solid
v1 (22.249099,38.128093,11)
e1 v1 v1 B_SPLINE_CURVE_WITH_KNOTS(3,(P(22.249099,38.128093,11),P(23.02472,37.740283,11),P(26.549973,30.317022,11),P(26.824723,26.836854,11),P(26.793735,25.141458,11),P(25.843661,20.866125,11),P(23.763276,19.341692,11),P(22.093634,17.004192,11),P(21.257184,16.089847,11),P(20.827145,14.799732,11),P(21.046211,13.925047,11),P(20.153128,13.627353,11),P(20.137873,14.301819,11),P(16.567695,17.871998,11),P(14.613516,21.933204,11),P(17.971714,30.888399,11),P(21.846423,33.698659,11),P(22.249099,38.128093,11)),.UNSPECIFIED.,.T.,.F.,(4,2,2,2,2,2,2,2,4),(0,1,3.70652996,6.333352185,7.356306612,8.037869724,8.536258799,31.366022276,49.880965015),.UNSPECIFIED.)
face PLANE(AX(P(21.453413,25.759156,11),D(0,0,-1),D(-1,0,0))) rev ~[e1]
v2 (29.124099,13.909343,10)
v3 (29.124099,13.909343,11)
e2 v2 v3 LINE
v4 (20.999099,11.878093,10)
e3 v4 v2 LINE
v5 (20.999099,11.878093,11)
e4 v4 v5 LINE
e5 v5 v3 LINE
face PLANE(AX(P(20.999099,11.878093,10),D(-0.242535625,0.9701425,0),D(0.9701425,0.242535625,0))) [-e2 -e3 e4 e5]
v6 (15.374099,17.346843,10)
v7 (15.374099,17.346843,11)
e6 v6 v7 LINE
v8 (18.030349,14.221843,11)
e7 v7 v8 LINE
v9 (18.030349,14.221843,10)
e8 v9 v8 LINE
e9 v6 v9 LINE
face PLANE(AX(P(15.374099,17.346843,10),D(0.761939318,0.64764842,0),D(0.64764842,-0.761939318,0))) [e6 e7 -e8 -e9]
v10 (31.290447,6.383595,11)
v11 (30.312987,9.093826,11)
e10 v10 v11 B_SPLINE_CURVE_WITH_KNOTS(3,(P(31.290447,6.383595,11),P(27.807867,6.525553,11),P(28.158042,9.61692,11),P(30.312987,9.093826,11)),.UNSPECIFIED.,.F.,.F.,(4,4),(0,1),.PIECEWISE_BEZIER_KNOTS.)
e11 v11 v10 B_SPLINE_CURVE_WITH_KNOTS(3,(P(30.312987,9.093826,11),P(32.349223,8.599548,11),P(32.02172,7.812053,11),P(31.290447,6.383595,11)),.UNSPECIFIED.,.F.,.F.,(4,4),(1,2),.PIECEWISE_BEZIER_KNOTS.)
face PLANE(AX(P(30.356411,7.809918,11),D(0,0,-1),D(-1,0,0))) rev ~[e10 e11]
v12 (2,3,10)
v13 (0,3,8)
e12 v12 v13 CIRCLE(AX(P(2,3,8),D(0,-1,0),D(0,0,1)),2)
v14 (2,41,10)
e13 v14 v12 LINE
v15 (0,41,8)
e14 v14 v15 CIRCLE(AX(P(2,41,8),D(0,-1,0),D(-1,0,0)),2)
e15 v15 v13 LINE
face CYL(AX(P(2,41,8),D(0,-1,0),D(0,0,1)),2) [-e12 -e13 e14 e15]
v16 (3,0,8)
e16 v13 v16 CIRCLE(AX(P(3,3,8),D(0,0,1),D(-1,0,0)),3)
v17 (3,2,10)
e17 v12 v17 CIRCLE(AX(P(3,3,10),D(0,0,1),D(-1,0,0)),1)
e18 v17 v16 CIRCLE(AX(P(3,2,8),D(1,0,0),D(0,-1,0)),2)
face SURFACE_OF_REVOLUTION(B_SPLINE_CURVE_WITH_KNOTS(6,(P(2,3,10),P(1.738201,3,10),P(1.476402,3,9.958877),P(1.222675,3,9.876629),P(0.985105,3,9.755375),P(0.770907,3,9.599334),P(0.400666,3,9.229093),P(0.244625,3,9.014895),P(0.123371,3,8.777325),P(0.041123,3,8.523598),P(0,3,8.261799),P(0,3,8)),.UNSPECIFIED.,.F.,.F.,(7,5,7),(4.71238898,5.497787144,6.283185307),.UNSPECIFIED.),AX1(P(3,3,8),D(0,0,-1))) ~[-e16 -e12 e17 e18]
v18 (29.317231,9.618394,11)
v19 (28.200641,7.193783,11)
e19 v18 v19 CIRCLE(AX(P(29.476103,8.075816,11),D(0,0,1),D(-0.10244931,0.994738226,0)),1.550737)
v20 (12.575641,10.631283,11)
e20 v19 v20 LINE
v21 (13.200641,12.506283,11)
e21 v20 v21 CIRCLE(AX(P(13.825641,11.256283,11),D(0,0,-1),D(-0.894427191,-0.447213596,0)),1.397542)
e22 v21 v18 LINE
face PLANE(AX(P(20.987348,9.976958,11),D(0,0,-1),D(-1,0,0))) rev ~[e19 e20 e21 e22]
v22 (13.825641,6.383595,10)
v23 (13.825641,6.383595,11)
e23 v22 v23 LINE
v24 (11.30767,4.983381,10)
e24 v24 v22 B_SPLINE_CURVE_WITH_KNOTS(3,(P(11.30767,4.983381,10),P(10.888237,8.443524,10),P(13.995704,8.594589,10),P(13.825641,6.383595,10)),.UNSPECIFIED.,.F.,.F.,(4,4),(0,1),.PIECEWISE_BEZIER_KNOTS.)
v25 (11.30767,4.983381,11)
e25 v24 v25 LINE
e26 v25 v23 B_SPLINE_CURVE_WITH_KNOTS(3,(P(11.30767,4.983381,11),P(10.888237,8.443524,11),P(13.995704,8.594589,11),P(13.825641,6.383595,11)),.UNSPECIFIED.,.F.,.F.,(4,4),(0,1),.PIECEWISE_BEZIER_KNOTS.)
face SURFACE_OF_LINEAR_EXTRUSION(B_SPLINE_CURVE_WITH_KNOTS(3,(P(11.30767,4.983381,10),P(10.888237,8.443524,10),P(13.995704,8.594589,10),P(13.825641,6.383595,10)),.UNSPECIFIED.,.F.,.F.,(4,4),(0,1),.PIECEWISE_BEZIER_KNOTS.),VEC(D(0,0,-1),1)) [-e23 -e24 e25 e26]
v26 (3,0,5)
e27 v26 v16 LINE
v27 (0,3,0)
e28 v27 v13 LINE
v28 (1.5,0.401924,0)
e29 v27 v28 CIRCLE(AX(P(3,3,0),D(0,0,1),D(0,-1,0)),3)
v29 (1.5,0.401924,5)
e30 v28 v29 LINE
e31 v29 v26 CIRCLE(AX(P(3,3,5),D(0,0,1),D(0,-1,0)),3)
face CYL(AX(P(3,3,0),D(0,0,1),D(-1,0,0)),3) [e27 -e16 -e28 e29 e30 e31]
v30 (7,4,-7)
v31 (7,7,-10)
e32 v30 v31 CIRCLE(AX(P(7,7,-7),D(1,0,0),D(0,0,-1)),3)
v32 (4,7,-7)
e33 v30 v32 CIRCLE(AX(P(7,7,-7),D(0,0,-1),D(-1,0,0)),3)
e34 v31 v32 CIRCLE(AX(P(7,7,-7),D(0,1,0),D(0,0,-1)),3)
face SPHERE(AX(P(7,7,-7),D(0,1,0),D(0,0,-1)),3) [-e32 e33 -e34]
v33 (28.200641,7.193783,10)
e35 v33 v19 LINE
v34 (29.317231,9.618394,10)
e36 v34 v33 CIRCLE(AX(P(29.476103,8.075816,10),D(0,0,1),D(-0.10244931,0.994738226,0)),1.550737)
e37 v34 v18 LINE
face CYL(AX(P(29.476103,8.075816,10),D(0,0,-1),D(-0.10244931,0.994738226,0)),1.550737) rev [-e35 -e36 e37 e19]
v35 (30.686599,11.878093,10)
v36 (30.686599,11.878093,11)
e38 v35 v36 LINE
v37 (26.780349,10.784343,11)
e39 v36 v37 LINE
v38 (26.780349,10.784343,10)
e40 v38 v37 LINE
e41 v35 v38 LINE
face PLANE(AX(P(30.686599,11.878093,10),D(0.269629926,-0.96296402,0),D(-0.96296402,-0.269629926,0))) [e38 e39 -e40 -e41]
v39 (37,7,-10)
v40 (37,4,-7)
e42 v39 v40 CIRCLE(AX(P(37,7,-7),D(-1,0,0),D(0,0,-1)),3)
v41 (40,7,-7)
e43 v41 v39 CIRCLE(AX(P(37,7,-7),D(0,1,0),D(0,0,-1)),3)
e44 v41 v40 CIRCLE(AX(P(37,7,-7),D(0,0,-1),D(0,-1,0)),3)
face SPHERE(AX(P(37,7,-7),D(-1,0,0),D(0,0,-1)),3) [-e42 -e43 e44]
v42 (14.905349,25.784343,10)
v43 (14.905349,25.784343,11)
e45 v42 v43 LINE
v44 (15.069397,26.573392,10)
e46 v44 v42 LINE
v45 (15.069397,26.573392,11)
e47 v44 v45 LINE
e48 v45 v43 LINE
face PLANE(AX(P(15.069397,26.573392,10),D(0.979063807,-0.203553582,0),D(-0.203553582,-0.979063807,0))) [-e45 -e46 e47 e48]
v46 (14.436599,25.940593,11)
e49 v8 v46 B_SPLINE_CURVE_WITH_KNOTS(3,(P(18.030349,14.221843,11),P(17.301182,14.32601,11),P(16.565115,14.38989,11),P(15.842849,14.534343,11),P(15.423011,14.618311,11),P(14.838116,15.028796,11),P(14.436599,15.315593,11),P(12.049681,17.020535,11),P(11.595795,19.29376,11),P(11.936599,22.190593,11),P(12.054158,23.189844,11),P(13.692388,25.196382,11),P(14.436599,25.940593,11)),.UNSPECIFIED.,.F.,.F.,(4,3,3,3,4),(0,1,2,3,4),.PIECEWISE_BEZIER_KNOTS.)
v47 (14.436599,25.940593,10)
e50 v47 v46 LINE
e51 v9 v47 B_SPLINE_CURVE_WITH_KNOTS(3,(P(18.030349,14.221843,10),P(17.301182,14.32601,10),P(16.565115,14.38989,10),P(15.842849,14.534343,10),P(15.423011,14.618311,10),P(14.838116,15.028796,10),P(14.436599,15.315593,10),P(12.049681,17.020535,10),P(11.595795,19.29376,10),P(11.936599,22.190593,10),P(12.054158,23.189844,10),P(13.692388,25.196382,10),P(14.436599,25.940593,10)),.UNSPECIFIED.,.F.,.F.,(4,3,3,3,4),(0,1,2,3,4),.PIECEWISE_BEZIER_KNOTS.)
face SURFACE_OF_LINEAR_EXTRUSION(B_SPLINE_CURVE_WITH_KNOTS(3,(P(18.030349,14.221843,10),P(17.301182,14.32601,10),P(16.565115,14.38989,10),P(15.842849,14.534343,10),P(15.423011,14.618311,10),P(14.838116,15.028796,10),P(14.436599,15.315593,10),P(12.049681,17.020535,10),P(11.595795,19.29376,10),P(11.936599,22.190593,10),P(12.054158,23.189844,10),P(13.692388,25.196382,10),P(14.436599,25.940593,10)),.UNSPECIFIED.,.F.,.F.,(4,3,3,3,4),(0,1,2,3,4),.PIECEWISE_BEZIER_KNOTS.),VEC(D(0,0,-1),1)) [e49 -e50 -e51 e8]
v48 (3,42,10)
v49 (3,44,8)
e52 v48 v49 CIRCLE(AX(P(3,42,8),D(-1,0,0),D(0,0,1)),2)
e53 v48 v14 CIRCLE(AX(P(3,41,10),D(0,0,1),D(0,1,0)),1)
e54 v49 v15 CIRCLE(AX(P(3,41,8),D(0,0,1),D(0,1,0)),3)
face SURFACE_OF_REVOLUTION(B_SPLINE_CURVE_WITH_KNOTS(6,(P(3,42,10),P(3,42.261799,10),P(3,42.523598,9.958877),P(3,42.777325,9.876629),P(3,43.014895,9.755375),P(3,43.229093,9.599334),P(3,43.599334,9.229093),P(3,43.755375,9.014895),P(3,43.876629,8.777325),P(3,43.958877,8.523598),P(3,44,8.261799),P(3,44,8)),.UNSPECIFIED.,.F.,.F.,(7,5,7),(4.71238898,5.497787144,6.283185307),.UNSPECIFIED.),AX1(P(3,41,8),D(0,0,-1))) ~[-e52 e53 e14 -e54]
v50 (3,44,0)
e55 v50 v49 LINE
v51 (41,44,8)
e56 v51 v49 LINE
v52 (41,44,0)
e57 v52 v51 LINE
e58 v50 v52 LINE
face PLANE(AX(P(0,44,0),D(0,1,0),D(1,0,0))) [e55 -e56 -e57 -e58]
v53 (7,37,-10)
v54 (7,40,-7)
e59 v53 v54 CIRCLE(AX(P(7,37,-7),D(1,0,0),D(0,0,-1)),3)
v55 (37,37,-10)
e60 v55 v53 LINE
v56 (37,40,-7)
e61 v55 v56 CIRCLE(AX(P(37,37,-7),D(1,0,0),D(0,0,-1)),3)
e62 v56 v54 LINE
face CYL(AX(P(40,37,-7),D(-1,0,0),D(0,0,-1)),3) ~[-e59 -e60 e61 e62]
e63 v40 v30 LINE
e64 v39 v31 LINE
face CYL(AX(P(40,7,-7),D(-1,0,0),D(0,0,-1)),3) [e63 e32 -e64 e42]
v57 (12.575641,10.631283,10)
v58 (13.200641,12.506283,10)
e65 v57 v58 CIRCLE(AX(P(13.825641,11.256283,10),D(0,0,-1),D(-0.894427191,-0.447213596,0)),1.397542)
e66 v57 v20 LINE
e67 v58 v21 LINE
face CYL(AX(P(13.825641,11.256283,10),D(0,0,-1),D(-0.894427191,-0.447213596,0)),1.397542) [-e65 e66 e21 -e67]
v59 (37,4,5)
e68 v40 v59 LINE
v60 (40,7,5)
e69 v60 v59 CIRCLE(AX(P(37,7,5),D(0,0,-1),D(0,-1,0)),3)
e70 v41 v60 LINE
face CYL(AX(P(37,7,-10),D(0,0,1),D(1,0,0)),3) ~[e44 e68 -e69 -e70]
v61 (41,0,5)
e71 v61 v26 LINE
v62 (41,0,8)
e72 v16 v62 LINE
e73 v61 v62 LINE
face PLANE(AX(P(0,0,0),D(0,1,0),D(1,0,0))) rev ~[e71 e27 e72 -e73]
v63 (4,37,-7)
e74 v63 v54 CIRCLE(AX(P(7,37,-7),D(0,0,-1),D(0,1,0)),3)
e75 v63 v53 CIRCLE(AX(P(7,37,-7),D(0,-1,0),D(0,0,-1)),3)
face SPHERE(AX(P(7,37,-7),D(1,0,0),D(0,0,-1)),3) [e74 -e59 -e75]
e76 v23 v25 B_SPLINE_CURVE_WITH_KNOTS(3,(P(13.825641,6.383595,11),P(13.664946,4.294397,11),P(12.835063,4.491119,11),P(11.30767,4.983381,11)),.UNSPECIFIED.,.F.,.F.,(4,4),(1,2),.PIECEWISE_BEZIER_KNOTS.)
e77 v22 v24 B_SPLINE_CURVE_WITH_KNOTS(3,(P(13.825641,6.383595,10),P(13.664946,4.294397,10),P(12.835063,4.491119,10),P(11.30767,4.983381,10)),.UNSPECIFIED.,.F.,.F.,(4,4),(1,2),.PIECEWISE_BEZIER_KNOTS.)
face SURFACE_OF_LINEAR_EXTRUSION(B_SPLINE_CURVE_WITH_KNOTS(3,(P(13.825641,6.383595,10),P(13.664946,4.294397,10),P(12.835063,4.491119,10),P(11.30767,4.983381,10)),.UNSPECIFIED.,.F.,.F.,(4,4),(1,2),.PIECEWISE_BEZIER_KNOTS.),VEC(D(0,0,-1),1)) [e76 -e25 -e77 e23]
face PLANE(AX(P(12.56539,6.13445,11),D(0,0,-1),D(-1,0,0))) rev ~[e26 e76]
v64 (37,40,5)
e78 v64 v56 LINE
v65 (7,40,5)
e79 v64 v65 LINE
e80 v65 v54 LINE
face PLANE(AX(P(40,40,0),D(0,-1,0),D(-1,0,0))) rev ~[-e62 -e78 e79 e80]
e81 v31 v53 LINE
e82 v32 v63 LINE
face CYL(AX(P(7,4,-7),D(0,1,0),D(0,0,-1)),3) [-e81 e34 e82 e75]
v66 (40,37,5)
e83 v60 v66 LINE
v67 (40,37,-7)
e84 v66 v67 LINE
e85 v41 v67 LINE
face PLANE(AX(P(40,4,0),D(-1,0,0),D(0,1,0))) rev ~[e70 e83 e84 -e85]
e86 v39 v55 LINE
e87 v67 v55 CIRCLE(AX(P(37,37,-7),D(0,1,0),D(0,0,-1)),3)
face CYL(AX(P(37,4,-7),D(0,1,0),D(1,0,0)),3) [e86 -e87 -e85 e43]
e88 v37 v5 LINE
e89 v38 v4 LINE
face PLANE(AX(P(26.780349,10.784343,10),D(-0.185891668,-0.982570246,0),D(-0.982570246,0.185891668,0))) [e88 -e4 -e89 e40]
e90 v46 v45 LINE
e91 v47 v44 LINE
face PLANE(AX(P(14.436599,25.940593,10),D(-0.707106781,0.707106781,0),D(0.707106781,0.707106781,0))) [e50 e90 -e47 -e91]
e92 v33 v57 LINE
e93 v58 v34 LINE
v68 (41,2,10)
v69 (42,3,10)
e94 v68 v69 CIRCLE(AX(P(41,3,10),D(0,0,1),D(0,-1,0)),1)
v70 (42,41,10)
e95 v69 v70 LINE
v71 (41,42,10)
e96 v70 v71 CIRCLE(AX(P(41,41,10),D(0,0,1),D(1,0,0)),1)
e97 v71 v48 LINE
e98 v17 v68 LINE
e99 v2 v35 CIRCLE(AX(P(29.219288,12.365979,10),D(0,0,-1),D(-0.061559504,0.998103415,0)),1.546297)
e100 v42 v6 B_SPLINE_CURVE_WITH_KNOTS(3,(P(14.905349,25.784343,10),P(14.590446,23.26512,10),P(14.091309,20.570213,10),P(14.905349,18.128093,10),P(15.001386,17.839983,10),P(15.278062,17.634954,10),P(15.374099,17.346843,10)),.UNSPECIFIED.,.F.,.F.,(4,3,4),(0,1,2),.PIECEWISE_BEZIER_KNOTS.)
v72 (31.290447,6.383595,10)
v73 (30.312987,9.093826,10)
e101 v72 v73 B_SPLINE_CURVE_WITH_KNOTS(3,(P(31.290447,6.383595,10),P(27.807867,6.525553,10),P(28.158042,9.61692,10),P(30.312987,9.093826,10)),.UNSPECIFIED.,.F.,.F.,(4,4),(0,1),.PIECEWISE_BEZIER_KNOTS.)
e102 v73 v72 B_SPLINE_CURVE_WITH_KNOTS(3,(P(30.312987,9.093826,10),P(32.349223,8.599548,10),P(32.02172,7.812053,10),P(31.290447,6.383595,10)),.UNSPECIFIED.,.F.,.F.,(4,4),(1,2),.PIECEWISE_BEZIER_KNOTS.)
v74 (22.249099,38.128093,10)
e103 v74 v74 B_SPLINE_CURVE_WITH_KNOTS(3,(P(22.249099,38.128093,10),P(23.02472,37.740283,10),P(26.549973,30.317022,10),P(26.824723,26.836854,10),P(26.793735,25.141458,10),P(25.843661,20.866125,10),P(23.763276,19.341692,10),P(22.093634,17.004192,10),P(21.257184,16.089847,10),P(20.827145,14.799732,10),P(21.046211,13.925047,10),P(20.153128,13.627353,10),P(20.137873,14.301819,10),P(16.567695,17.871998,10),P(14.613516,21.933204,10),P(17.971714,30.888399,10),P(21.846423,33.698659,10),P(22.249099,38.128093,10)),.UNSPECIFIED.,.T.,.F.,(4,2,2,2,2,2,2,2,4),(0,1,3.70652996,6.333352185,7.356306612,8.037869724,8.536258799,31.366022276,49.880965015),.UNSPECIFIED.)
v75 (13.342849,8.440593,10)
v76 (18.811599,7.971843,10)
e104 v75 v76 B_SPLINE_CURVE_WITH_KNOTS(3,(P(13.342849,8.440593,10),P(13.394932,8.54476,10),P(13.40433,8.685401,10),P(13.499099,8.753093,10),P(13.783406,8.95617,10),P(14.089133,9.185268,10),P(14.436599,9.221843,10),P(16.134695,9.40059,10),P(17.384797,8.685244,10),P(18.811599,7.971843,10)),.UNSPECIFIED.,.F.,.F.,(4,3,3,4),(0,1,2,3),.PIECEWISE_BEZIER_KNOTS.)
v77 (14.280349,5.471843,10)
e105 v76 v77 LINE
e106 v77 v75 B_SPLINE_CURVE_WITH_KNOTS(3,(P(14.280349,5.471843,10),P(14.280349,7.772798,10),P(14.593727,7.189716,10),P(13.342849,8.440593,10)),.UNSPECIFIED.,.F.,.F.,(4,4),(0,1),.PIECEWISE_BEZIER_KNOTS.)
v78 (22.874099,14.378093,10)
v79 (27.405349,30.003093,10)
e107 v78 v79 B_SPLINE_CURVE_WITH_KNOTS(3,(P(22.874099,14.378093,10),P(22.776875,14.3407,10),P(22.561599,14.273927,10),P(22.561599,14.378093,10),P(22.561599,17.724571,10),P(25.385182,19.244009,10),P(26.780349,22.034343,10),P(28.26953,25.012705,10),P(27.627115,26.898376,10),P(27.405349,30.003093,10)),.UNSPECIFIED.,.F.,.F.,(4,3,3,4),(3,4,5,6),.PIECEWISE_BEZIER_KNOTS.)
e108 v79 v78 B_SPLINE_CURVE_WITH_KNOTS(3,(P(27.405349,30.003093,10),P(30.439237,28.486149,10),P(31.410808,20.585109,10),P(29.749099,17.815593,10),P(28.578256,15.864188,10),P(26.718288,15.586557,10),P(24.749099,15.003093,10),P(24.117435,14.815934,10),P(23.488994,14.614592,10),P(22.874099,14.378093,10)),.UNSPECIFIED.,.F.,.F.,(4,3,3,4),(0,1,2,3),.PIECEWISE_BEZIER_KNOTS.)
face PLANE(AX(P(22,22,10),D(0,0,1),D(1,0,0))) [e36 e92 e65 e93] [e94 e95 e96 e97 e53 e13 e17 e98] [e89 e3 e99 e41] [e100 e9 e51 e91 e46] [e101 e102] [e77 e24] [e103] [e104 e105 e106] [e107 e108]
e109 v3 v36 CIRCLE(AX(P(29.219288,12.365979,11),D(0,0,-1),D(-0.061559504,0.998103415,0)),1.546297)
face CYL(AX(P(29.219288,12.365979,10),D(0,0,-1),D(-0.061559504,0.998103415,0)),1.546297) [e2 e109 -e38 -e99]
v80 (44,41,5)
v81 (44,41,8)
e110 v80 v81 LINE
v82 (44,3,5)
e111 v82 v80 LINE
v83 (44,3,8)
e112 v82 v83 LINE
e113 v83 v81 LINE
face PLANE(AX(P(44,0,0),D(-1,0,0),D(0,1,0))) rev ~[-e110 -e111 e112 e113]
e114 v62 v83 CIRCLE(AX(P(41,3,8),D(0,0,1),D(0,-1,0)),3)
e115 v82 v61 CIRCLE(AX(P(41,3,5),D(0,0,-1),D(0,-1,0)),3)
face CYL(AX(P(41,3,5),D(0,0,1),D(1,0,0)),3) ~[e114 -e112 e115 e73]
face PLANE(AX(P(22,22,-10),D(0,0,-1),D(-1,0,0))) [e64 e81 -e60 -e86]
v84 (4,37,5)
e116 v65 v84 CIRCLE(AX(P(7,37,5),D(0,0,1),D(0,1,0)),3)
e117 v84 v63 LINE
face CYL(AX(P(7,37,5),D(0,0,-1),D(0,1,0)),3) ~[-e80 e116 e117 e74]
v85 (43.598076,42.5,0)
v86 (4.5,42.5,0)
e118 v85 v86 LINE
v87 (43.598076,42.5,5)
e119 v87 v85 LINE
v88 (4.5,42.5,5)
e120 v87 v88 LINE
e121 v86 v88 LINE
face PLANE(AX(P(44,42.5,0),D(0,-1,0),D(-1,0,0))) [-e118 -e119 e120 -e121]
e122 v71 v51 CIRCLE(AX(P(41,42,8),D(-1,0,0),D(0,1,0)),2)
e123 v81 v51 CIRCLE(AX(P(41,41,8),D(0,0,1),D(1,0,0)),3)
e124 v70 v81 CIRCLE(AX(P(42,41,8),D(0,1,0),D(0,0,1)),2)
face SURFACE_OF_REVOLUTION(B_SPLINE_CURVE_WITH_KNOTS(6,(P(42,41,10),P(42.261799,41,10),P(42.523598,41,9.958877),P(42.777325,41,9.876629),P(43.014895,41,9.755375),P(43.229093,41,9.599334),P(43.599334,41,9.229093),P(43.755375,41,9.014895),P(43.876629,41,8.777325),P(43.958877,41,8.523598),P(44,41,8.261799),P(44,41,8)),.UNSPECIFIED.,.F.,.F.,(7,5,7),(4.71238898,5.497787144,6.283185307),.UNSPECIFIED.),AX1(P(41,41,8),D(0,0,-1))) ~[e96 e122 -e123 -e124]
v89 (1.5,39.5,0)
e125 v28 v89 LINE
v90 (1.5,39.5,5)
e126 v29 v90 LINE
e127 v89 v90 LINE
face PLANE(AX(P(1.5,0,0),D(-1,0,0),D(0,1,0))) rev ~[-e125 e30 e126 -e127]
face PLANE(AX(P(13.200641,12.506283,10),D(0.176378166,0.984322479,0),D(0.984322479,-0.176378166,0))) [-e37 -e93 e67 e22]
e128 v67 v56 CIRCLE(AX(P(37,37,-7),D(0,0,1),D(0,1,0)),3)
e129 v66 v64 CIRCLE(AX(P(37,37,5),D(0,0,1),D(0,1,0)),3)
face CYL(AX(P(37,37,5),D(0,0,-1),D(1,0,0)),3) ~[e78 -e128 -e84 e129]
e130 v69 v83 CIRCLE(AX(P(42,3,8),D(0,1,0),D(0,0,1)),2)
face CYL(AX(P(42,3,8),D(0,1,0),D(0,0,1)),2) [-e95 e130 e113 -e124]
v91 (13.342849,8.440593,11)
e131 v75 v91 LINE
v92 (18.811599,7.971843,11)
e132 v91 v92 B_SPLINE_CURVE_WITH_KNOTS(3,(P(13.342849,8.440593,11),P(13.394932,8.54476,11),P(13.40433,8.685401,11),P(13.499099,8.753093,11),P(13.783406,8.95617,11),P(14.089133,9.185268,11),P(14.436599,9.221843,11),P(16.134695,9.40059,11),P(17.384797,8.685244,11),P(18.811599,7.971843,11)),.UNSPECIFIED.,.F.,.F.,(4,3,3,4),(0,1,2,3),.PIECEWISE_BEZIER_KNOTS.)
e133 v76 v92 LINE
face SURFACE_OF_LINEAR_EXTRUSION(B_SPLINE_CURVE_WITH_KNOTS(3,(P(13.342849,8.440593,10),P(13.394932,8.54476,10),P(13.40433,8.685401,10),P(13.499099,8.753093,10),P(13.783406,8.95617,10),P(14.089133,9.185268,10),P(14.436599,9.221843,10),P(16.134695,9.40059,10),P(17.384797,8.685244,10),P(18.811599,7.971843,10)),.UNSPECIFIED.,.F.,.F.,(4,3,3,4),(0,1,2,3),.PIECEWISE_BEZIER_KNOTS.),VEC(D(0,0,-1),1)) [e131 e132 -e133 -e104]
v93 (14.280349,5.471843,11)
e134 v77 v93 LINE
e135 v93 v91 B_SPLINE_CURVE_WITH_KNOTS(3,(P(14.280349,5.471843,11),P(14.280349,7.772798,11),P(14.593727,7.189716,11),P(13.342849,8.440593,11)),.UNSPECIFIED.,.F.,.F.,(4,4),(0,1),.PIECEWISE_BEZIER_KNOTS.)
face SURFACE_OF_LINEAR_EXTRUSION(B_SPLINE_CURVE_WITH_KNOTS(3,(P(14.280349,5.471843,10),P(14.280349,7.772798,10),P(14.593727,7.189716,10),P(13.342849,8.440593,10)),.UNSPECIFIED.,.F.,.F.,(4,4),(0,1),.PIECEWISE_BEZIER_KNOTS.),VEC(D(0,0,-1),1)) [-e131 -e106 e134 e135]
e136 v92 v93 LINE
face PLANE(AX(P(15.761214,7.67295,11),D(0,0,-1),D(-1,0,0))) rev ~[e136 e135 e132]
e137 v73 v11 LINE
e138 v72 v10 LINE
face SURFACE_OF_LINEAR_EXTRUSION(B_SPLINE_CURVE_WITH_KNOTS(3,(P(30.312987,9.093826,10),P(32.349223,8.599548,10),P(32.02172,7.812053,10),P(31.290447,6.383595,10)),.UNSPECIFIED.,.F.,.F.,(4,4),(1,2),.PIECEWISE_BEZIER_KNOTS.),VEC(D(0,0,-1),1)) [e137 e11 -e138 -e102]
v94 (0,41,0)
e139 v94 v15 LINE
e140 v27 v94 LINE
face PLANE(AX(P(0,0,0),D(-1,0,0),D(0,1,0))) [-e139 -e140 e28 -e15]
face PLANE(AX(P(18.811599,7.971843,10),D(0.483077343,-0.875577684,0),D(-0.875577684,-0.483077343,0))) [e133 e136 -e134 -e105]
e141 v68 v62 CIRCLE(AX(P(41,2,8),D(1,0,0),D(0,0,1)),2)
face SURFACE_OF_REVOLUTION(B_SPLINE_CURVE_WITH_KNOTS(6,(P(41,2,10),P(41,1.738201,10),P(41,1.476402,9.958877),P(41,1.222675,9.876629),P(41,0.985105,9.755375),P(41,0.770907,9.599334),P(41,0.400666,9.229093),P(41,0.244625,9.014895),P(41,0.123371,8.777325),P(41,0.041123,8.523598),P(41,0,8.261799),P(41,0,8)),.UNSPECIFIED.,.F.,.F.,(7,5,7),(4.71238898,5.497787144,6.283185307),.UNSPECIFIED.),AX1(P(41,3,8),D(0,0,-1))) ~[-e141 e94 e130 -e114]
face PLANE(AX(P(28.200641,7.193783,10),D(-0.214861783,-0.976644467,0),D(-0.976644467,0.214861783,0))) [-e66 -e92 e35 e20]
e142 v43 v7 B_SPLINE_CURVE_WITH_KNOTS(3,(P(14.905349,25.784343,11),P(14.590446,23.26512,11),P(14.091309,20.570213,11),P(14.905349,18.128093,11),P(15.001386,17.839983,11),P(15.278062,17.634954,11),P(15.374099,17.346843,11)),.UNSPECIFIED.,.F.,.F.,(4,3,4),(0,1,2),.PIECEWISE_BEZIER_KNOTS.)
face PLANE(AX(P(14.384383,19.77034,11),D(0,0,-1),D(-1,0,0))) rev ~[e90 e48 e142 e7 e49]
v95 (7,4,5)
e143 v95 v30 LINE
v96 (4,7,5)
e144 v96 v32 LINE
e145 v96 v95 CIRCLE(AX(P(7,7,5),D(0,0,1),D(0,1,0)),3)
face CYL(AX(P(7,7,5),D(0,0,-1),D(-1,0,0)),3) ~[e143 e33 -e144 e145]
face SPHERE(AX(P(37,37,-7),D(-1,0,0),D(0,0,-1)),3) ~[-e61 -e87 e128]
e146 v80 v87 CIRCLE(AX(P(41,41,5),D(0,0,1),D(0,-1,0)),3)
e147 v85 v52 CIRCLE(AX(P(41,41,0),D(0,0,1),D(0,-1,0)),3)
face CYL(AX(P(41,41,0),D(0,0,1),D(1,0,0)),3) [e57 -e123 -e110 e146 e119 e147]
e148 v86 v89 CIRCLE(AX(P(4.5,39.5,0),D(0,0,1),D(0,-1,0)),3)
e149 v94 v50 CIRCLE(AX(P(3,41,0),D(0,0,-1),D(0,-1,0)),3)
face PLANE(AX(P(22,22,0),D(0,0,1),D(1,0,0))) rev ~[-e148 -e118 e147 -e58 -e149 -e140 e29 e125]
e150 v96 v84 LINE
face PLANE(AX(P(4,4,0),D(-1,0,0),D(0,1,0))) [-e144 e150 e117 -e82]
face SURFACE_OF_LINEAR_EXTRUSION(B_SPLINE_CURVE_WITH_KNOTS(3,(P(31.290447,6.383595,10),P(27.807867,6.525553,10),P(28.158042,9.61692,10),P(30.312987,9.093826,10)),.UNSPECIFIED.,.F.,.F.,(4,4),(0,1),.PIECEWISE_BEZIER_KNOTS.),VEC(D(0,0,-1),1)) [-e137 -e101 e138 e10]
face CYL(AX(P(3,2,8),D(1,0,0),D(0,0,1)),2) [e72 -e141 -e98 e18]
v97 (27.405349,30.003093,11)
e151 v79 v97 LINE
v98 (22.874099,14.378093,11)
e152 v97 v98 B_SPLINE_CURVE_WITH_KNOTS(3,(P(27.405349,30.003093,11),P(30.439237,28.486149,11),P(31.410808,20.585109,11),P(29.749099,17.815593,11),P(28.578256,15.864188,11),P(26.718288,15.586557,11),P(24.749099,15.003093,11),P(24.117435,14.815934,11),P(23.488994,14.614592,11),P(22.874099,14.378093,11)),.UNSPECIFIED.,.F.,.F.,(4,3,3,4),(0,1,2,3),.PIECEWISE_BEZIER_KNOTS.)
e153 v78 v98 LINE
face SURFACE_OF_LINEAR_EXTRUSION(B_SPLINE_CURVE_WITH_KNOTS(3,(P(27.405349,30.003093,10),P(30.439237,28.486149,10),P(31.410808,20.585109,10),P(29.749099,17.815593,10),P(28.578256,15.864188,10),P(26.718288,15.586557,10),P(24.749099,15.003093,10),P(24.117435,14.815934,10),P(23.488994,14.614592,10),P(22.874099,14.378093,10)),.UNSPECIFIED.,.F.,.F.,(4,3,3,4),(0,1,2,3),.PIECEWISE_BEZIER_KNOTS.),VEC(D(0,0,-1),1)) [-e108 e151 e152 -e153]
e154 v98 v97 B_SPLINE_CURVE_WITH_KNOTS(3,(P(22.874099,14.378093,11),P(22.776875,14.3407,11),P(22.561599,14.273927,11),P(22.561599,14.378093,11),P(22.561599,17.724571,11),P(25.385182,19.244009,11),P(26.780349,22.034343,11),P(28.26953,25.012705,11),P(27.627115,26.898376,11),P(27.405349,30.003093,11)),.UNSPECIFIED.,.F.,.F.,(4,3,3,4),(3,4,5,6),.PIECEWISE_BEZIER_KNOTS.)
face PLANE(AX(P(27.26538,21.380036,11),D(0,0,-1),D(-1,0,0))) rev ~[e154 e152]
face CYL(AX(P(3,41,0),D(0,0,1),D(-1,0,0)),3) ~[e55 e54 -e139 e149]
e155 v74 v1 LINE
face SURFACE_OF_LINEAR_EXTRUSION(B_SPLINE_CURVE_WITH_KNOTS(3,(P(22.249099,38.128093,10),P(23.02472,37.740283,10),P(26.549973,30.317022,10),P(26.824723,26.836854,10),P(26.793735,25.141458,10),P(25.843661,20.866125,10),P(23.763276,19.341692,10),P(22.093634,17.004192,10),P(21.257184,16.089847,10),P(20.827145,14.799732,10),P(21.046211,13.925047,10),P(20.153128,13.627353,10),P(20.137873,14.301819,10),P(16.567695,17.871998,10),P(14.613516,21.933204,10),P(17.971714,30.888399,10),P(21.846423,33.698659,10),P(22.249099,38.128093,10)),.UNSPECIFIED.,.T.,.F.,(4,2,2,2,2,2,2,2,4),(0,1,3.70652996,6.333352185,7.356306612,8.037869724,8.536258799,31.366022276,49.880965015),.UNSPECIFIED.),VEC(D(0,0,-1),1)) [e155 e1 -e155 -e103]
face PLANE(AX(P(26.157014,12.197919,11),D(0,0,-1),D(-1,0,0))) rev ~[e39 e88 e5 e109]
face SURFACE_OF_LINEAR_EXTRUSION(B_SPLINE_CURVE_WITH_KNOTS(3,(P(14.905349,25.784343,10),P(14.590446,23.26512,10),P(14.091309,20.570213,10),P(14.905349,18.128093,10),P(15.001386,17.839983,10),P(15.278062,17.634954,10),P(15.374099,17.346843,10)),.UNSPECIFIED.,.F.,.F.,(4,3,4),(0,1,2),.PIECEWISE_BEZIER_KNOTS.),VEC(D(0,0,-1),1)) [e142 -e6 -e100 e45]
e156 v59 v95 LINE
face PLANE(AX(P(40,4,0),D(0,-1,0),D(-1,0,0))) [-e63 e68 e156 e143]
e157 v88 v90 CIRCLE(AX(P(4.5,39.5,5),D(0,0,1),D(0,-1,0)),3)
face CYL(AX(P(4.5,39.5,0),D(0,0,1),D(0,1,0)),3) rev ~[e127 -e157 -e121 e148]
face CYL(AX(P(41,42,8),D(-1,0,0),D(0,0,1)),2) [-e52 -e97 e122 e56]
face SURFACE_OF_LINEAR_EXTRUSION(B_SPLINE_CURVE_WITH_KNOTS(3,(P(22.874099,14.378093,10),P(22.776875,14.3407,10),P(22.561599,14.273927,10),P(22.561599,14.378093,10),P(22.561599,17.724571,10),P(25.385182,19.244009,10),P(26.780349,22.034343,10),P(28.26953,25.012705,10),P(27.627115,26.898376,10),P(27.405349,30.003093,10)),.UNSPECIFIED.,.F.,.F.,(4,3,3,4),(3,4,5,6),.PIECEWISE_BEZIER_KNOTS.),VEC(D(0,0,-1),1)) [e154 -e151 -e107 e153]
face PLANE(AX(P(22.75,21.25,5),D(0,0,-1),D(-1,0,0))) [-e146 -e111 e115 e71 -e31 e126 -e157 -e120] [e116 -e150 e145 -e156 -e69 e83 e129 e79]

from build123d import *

# Parameters (mm, degrees)
ESQUISSE2_W             = 44
ESQUISSE2_H             = 44
BOSS_EXTRU_1_DEPTH      = 10
ESQUISSE3_W             = 36
ESQUISSE3_H             = 36
BOSS_EXTRU_2_DEPTH      = 10
ESQUISSE4_W             = 42.5
ESQUISSE4_H             = 42.5
ESQUISSE4_W_2           = 36
ESQUISSE4_H_2           = 36
ENL_V_MAT_EXTRU_1_DEPTH = 5
CONG_1_R                = 3
CONG_2_R                = 2
BOSS_EXTRU_4_DEPTH      = 1


with BuildPart() as part:
    # Esquisse2 → Boss.-Extru.1 (new body)
    with BuildSketch(Plane.XY):
        with Locations((22, 22)):
            Rectangle(ESQUISSE2_W, ESQUISSE2_H)
    extrude(amount=BOSS_EXTRU_1_DEPTH)

    # Esquisse3 → Boss.-Extru.2 (add)
    with BuildSketch(Plane(origin=(0, 0, 0), x_dir=(-1, 0, 0), z_dir=(0, 0, -1))):
        with Locations((-22, 22)):
            Rectangle(ESQUISSE3_W, ESQUISSE3_H)
    extrude(amount=BOSS_EXTRU_2_DEPTH)

    # Esquisse4 → Enlèv. mat.-Extru.1 (cut)
    with BuildSketch(Plane(origin=(0, 0, 0), x_dir=(-1, 0, 0), z_dir=(0, 0, -1))):
        with Locations((-22.75, 21.25)):
            Rectangle(ESQUISSE4_W, ESQUISSE4_H)
        with Locations((-22, 22)):
            Rectangle(ESQUISSE4_W_2, ESQUISSE4_H_2, mode=Mode.SUBTRACT)
    extrude(amount=-ENL_V_MAT_EXTRU_1_DEPTH, mode=Mode.SUBTRACT)

    # Congé1
    cong_1_edges = [part.edges().sort_by_distance(p)[0] for p in [
        (22, 40, -10),
        (4, 22, -10),
        (22, 4, -10),
        (40, 22, -10),
        (44, 0, 7.5),
        (44, 44, 5),
        (0, 0, 5),
        (0, 44, 5),
        (1.5, 42.5, 2.5),
        (4, 4, -2.5),
        (4, 40, -2.5),
        (40, 4, -2.5),
        (40, 40, -2.5),
    ]]
    fillet(cong_1_edges, radius=CONG_1_R)

    # Congé2
    cong_2_edges = [part.edges().sort_by_distance(p)[0] for p in [
        (44, 22, 10),
        (22, 0, 10),
        (0, 22, 10),
        (22, 44, 10),
        (0.878679656, 43.121320344, 10),
        (0.878679656, 0.878679656, 10),
        (43.121320344, 43.121320344, 10),
        (43.121320344, 0.878679656, 10),
    ]]
    fillet(cong_2_edges, radius=CONG_2_R)

    # Esquisse7 → Boss.-Extru.4 (add)
    with BuildSketch(Plane.XY.offset(10)):
        with BuildLine():
            Line((15.374098957, 17.346843443), (18.030348957, 14.221843443))
            add(Edge.make_bspline(
                [(18.030348957, 14.221843443), (17.301182291, 14.32601011), (16.565114838, 14.389890267), (15.842848957, 14.534343443), (15.423010802, 14.618311074), (14.838115665, 15.028795794), (14.436598957, 15.315593443), (12.049681404, 17.020534553), (11.595795075, 19.293760446), (11.936598957, 22.190593443), (12.054157826, 23.189843826), (13.69238751, 25.196381996), (14.436598957, 25.940593443)],
                knots=[0, 0, 0, 0, 1, 1, 1, 2, 2, 2, 3, 3, 3, 4, 4, 4, 4], degree=3))
            Line((14.436598957, 25.940593443), (15.06939707, 26.573391556))
            Line((15.06939707, 26.573391556), (14.905348957, 25.784343443))
            add(Edge.make_bspline(
                [(14.905348957, 25.784343443), (14.590446041, 23.265120116), (14.091309116, 20.570212966), (14.905348957, 18.128093443), (15.001385879, 17.839982679), (15.278062036, 17.634954207), (15.374098957, 17.346843443)],
                knots=[0, 0, 0, 0, 1, 1, 1, 2, 2, 2, 2], degree=3))
        make_face()
        with BuildLine():
            Line((30.686598957, 11.878093443), (26.780348957, 10.784343443))
            Line((26.780348957, 10.784343443), (20.999098957, 11.878093443))
            Line((20.999098957, 11.878093443), (29.124098957, 13.909343443))
            ThreePointArc((29.124098957, 13.909343443), (30.444920086, 13.308773157), (30.686598957, 11.878093443))
        make_face()
        with BuildLine():
            Line((18.811598957, 7.971843443), (14.280348957, 5.471843443))
            add(Edge.make_bspline(
                [(14.280348957, 5.471843443), (14.280348957, 7.772797666), (14.593726557, 7.189715843), (13.342848957, 8.440593443)],
                knots=[0, 0, 0, 0, 1, 1, 1, 1], degree=3))
            add(Edge.make_bspline(
                [(13.342848957, 8.440593443), (13.394932291, 8.54476011), (13.404330032, 8.685401354), (13.499098957, 8.753093443), (13.783405732, 8.956169711), (14.089133052, 9.185268084), (14.436598957, 9.221843443), (16.134694919, 9.400590386), (17.384797269, 8.685244287), (18.811598957, 7.971843443)],
                knots=[0, 0, 0, 0, 1, 1, 1, 2, 2, 2, 3, 3, 3, 3], degree=3))
        make_face()
        with BuildLine():
            Line((13.200641117, 12.506283222), (29.317230938, 9.618393711))
            ThreePointArc((29.317230938, 9.618393711), (28.067553161, 8.724486443), (28.200641117, 7.193783222))
            Line((28.200641117, 7.193783222), (12.575641117, 10.631283222))
            ThreePointArc((12.575641117, 10.631283222), (12.499815902, 11.698224961), (13.200641117, 12.506283222))
        make_face()
        with BuildLine():
            add(Edge.make_bspline(
                [(20.999098957, 15.315593443), (20.827145061, 14.799731755), (21.046210645, 13.925047339), (20.530348957, 13.753093443), (20.153128088, 13.627353153), (20.137873233, 14.301819167), (20.061598957, 14.378093443), (16.567694762, 17.871997638), (14.613515541, 21.933204334), (16.467848957, 26.878093443), (17.971713728, 30.888399498), (21.846423142, 33.698659479), (22.249098957, 38.128093443)],
                knots=[4, 4, 4, 4, 5, 5, 5, 6, 6, 6, 7, 7, 7, 8, 8, 8, 8], degree=3))
            add(Edge.make_bspline(
                [(22.249098957, 38.128093443), (23.024720103, 37.74028287), (26.549972992, 30.317022339), (26.624098957, 29.378093443), (26.824723104, 26.836854256), (26.793735434, 25.141457588), (26.311598957, 22.971843443), (25.843661476, 20.866124777), (23.763276375, 19.341691827), (22.561598957, 17.659343443), (22.093633816, 17.004192245), (21.257183639, 16.089847489), (20.999098957, 15.315593443)],
                knots=[0, 0, 0, 0, 1, 1, 1, 2, 2, 2, 3, 3, 3, 4, 4, 4, 4], degree=3))
        make_face()
        with BuildLine():
            add(Edge.make_bspline(
                [(22.874098957, 14.378093443), (22.776875457, 14.340699789), (22.561598957, 14.273926776), (22.561598957, 14.378093443), (22.561598957, 17.724570677), (25.385181625, 19.244008778), (26.780348957, 22.034343443), (28.269529967, 25.012705463), (27.627114524, 26.898375507), (27.405348957, 30.003093443)],
                knots=[3, 3, 3, 3, 4, 4, 4, 5, 5, 5, 6, 6, 6, 6], degree=3))
            add(Edge.make_bspline(
                [(27.405348957, 30.003093443), (30.439237099, 28.486149372), (31.410808057, 20.585108609), (29.749098957, 17.815593443), (28.578255605, 15.864187855), (26.718288261, 15.58655694), (24.749098957, 15.003093443), (24.117435238, 14.815933822), (23.488994366, 14.614591677), (22.874098957, 14.378093443)],
                knots=[0, 0, 0, 0, 1, 1, 1, 2, 2, 2, 3, 3, 3, 3], degree=3))
        make_face()
        with BuildLine():
            add(Edge.make_bspline(
                [(13.825641117, 6.383595142), (13.664946359, 4.294397314), (12.835062605, 4.491118619), (11.307669526, 4.983380758)],
                knots=[1, 1, 1, 1, 2, 2, 2, 2], degree=3))
            add(Edge.make_bspline(
                [(11.307669526, 4.983380758), (10.888236852, 8.443524348), (13.995704046, 8.594588879), (13.825641117, 6.383595142)],
                knots=[0, 0, 0, 0, 1, 1, 1, 1], degree=3))
        make_face()
        with BuildLine():
            add(Edge.make_bspline(
                [(30.312986898, 9.093826211), (32.34922339, 8.599547626), (32.02172038, 7.812052803), (31.290447284, 6.383595142)],
                knots=[1, 1, 1, 1, 2, 2, 2, 2], degree=3))
            add(Edge.make_bspline(
                [(31.290447284, 6.383595142), (27.807867011, 6.525553152), (28.158042034, 9.616920214), (30.312986898, 9.093826211)],
                knots=[0, 0, 0, 0, 1, 1, 1, 1], degree=3))
        make_face()
    extrude(amount=BOSS_EXTRU_4_DEPTH)


solid = part.part
